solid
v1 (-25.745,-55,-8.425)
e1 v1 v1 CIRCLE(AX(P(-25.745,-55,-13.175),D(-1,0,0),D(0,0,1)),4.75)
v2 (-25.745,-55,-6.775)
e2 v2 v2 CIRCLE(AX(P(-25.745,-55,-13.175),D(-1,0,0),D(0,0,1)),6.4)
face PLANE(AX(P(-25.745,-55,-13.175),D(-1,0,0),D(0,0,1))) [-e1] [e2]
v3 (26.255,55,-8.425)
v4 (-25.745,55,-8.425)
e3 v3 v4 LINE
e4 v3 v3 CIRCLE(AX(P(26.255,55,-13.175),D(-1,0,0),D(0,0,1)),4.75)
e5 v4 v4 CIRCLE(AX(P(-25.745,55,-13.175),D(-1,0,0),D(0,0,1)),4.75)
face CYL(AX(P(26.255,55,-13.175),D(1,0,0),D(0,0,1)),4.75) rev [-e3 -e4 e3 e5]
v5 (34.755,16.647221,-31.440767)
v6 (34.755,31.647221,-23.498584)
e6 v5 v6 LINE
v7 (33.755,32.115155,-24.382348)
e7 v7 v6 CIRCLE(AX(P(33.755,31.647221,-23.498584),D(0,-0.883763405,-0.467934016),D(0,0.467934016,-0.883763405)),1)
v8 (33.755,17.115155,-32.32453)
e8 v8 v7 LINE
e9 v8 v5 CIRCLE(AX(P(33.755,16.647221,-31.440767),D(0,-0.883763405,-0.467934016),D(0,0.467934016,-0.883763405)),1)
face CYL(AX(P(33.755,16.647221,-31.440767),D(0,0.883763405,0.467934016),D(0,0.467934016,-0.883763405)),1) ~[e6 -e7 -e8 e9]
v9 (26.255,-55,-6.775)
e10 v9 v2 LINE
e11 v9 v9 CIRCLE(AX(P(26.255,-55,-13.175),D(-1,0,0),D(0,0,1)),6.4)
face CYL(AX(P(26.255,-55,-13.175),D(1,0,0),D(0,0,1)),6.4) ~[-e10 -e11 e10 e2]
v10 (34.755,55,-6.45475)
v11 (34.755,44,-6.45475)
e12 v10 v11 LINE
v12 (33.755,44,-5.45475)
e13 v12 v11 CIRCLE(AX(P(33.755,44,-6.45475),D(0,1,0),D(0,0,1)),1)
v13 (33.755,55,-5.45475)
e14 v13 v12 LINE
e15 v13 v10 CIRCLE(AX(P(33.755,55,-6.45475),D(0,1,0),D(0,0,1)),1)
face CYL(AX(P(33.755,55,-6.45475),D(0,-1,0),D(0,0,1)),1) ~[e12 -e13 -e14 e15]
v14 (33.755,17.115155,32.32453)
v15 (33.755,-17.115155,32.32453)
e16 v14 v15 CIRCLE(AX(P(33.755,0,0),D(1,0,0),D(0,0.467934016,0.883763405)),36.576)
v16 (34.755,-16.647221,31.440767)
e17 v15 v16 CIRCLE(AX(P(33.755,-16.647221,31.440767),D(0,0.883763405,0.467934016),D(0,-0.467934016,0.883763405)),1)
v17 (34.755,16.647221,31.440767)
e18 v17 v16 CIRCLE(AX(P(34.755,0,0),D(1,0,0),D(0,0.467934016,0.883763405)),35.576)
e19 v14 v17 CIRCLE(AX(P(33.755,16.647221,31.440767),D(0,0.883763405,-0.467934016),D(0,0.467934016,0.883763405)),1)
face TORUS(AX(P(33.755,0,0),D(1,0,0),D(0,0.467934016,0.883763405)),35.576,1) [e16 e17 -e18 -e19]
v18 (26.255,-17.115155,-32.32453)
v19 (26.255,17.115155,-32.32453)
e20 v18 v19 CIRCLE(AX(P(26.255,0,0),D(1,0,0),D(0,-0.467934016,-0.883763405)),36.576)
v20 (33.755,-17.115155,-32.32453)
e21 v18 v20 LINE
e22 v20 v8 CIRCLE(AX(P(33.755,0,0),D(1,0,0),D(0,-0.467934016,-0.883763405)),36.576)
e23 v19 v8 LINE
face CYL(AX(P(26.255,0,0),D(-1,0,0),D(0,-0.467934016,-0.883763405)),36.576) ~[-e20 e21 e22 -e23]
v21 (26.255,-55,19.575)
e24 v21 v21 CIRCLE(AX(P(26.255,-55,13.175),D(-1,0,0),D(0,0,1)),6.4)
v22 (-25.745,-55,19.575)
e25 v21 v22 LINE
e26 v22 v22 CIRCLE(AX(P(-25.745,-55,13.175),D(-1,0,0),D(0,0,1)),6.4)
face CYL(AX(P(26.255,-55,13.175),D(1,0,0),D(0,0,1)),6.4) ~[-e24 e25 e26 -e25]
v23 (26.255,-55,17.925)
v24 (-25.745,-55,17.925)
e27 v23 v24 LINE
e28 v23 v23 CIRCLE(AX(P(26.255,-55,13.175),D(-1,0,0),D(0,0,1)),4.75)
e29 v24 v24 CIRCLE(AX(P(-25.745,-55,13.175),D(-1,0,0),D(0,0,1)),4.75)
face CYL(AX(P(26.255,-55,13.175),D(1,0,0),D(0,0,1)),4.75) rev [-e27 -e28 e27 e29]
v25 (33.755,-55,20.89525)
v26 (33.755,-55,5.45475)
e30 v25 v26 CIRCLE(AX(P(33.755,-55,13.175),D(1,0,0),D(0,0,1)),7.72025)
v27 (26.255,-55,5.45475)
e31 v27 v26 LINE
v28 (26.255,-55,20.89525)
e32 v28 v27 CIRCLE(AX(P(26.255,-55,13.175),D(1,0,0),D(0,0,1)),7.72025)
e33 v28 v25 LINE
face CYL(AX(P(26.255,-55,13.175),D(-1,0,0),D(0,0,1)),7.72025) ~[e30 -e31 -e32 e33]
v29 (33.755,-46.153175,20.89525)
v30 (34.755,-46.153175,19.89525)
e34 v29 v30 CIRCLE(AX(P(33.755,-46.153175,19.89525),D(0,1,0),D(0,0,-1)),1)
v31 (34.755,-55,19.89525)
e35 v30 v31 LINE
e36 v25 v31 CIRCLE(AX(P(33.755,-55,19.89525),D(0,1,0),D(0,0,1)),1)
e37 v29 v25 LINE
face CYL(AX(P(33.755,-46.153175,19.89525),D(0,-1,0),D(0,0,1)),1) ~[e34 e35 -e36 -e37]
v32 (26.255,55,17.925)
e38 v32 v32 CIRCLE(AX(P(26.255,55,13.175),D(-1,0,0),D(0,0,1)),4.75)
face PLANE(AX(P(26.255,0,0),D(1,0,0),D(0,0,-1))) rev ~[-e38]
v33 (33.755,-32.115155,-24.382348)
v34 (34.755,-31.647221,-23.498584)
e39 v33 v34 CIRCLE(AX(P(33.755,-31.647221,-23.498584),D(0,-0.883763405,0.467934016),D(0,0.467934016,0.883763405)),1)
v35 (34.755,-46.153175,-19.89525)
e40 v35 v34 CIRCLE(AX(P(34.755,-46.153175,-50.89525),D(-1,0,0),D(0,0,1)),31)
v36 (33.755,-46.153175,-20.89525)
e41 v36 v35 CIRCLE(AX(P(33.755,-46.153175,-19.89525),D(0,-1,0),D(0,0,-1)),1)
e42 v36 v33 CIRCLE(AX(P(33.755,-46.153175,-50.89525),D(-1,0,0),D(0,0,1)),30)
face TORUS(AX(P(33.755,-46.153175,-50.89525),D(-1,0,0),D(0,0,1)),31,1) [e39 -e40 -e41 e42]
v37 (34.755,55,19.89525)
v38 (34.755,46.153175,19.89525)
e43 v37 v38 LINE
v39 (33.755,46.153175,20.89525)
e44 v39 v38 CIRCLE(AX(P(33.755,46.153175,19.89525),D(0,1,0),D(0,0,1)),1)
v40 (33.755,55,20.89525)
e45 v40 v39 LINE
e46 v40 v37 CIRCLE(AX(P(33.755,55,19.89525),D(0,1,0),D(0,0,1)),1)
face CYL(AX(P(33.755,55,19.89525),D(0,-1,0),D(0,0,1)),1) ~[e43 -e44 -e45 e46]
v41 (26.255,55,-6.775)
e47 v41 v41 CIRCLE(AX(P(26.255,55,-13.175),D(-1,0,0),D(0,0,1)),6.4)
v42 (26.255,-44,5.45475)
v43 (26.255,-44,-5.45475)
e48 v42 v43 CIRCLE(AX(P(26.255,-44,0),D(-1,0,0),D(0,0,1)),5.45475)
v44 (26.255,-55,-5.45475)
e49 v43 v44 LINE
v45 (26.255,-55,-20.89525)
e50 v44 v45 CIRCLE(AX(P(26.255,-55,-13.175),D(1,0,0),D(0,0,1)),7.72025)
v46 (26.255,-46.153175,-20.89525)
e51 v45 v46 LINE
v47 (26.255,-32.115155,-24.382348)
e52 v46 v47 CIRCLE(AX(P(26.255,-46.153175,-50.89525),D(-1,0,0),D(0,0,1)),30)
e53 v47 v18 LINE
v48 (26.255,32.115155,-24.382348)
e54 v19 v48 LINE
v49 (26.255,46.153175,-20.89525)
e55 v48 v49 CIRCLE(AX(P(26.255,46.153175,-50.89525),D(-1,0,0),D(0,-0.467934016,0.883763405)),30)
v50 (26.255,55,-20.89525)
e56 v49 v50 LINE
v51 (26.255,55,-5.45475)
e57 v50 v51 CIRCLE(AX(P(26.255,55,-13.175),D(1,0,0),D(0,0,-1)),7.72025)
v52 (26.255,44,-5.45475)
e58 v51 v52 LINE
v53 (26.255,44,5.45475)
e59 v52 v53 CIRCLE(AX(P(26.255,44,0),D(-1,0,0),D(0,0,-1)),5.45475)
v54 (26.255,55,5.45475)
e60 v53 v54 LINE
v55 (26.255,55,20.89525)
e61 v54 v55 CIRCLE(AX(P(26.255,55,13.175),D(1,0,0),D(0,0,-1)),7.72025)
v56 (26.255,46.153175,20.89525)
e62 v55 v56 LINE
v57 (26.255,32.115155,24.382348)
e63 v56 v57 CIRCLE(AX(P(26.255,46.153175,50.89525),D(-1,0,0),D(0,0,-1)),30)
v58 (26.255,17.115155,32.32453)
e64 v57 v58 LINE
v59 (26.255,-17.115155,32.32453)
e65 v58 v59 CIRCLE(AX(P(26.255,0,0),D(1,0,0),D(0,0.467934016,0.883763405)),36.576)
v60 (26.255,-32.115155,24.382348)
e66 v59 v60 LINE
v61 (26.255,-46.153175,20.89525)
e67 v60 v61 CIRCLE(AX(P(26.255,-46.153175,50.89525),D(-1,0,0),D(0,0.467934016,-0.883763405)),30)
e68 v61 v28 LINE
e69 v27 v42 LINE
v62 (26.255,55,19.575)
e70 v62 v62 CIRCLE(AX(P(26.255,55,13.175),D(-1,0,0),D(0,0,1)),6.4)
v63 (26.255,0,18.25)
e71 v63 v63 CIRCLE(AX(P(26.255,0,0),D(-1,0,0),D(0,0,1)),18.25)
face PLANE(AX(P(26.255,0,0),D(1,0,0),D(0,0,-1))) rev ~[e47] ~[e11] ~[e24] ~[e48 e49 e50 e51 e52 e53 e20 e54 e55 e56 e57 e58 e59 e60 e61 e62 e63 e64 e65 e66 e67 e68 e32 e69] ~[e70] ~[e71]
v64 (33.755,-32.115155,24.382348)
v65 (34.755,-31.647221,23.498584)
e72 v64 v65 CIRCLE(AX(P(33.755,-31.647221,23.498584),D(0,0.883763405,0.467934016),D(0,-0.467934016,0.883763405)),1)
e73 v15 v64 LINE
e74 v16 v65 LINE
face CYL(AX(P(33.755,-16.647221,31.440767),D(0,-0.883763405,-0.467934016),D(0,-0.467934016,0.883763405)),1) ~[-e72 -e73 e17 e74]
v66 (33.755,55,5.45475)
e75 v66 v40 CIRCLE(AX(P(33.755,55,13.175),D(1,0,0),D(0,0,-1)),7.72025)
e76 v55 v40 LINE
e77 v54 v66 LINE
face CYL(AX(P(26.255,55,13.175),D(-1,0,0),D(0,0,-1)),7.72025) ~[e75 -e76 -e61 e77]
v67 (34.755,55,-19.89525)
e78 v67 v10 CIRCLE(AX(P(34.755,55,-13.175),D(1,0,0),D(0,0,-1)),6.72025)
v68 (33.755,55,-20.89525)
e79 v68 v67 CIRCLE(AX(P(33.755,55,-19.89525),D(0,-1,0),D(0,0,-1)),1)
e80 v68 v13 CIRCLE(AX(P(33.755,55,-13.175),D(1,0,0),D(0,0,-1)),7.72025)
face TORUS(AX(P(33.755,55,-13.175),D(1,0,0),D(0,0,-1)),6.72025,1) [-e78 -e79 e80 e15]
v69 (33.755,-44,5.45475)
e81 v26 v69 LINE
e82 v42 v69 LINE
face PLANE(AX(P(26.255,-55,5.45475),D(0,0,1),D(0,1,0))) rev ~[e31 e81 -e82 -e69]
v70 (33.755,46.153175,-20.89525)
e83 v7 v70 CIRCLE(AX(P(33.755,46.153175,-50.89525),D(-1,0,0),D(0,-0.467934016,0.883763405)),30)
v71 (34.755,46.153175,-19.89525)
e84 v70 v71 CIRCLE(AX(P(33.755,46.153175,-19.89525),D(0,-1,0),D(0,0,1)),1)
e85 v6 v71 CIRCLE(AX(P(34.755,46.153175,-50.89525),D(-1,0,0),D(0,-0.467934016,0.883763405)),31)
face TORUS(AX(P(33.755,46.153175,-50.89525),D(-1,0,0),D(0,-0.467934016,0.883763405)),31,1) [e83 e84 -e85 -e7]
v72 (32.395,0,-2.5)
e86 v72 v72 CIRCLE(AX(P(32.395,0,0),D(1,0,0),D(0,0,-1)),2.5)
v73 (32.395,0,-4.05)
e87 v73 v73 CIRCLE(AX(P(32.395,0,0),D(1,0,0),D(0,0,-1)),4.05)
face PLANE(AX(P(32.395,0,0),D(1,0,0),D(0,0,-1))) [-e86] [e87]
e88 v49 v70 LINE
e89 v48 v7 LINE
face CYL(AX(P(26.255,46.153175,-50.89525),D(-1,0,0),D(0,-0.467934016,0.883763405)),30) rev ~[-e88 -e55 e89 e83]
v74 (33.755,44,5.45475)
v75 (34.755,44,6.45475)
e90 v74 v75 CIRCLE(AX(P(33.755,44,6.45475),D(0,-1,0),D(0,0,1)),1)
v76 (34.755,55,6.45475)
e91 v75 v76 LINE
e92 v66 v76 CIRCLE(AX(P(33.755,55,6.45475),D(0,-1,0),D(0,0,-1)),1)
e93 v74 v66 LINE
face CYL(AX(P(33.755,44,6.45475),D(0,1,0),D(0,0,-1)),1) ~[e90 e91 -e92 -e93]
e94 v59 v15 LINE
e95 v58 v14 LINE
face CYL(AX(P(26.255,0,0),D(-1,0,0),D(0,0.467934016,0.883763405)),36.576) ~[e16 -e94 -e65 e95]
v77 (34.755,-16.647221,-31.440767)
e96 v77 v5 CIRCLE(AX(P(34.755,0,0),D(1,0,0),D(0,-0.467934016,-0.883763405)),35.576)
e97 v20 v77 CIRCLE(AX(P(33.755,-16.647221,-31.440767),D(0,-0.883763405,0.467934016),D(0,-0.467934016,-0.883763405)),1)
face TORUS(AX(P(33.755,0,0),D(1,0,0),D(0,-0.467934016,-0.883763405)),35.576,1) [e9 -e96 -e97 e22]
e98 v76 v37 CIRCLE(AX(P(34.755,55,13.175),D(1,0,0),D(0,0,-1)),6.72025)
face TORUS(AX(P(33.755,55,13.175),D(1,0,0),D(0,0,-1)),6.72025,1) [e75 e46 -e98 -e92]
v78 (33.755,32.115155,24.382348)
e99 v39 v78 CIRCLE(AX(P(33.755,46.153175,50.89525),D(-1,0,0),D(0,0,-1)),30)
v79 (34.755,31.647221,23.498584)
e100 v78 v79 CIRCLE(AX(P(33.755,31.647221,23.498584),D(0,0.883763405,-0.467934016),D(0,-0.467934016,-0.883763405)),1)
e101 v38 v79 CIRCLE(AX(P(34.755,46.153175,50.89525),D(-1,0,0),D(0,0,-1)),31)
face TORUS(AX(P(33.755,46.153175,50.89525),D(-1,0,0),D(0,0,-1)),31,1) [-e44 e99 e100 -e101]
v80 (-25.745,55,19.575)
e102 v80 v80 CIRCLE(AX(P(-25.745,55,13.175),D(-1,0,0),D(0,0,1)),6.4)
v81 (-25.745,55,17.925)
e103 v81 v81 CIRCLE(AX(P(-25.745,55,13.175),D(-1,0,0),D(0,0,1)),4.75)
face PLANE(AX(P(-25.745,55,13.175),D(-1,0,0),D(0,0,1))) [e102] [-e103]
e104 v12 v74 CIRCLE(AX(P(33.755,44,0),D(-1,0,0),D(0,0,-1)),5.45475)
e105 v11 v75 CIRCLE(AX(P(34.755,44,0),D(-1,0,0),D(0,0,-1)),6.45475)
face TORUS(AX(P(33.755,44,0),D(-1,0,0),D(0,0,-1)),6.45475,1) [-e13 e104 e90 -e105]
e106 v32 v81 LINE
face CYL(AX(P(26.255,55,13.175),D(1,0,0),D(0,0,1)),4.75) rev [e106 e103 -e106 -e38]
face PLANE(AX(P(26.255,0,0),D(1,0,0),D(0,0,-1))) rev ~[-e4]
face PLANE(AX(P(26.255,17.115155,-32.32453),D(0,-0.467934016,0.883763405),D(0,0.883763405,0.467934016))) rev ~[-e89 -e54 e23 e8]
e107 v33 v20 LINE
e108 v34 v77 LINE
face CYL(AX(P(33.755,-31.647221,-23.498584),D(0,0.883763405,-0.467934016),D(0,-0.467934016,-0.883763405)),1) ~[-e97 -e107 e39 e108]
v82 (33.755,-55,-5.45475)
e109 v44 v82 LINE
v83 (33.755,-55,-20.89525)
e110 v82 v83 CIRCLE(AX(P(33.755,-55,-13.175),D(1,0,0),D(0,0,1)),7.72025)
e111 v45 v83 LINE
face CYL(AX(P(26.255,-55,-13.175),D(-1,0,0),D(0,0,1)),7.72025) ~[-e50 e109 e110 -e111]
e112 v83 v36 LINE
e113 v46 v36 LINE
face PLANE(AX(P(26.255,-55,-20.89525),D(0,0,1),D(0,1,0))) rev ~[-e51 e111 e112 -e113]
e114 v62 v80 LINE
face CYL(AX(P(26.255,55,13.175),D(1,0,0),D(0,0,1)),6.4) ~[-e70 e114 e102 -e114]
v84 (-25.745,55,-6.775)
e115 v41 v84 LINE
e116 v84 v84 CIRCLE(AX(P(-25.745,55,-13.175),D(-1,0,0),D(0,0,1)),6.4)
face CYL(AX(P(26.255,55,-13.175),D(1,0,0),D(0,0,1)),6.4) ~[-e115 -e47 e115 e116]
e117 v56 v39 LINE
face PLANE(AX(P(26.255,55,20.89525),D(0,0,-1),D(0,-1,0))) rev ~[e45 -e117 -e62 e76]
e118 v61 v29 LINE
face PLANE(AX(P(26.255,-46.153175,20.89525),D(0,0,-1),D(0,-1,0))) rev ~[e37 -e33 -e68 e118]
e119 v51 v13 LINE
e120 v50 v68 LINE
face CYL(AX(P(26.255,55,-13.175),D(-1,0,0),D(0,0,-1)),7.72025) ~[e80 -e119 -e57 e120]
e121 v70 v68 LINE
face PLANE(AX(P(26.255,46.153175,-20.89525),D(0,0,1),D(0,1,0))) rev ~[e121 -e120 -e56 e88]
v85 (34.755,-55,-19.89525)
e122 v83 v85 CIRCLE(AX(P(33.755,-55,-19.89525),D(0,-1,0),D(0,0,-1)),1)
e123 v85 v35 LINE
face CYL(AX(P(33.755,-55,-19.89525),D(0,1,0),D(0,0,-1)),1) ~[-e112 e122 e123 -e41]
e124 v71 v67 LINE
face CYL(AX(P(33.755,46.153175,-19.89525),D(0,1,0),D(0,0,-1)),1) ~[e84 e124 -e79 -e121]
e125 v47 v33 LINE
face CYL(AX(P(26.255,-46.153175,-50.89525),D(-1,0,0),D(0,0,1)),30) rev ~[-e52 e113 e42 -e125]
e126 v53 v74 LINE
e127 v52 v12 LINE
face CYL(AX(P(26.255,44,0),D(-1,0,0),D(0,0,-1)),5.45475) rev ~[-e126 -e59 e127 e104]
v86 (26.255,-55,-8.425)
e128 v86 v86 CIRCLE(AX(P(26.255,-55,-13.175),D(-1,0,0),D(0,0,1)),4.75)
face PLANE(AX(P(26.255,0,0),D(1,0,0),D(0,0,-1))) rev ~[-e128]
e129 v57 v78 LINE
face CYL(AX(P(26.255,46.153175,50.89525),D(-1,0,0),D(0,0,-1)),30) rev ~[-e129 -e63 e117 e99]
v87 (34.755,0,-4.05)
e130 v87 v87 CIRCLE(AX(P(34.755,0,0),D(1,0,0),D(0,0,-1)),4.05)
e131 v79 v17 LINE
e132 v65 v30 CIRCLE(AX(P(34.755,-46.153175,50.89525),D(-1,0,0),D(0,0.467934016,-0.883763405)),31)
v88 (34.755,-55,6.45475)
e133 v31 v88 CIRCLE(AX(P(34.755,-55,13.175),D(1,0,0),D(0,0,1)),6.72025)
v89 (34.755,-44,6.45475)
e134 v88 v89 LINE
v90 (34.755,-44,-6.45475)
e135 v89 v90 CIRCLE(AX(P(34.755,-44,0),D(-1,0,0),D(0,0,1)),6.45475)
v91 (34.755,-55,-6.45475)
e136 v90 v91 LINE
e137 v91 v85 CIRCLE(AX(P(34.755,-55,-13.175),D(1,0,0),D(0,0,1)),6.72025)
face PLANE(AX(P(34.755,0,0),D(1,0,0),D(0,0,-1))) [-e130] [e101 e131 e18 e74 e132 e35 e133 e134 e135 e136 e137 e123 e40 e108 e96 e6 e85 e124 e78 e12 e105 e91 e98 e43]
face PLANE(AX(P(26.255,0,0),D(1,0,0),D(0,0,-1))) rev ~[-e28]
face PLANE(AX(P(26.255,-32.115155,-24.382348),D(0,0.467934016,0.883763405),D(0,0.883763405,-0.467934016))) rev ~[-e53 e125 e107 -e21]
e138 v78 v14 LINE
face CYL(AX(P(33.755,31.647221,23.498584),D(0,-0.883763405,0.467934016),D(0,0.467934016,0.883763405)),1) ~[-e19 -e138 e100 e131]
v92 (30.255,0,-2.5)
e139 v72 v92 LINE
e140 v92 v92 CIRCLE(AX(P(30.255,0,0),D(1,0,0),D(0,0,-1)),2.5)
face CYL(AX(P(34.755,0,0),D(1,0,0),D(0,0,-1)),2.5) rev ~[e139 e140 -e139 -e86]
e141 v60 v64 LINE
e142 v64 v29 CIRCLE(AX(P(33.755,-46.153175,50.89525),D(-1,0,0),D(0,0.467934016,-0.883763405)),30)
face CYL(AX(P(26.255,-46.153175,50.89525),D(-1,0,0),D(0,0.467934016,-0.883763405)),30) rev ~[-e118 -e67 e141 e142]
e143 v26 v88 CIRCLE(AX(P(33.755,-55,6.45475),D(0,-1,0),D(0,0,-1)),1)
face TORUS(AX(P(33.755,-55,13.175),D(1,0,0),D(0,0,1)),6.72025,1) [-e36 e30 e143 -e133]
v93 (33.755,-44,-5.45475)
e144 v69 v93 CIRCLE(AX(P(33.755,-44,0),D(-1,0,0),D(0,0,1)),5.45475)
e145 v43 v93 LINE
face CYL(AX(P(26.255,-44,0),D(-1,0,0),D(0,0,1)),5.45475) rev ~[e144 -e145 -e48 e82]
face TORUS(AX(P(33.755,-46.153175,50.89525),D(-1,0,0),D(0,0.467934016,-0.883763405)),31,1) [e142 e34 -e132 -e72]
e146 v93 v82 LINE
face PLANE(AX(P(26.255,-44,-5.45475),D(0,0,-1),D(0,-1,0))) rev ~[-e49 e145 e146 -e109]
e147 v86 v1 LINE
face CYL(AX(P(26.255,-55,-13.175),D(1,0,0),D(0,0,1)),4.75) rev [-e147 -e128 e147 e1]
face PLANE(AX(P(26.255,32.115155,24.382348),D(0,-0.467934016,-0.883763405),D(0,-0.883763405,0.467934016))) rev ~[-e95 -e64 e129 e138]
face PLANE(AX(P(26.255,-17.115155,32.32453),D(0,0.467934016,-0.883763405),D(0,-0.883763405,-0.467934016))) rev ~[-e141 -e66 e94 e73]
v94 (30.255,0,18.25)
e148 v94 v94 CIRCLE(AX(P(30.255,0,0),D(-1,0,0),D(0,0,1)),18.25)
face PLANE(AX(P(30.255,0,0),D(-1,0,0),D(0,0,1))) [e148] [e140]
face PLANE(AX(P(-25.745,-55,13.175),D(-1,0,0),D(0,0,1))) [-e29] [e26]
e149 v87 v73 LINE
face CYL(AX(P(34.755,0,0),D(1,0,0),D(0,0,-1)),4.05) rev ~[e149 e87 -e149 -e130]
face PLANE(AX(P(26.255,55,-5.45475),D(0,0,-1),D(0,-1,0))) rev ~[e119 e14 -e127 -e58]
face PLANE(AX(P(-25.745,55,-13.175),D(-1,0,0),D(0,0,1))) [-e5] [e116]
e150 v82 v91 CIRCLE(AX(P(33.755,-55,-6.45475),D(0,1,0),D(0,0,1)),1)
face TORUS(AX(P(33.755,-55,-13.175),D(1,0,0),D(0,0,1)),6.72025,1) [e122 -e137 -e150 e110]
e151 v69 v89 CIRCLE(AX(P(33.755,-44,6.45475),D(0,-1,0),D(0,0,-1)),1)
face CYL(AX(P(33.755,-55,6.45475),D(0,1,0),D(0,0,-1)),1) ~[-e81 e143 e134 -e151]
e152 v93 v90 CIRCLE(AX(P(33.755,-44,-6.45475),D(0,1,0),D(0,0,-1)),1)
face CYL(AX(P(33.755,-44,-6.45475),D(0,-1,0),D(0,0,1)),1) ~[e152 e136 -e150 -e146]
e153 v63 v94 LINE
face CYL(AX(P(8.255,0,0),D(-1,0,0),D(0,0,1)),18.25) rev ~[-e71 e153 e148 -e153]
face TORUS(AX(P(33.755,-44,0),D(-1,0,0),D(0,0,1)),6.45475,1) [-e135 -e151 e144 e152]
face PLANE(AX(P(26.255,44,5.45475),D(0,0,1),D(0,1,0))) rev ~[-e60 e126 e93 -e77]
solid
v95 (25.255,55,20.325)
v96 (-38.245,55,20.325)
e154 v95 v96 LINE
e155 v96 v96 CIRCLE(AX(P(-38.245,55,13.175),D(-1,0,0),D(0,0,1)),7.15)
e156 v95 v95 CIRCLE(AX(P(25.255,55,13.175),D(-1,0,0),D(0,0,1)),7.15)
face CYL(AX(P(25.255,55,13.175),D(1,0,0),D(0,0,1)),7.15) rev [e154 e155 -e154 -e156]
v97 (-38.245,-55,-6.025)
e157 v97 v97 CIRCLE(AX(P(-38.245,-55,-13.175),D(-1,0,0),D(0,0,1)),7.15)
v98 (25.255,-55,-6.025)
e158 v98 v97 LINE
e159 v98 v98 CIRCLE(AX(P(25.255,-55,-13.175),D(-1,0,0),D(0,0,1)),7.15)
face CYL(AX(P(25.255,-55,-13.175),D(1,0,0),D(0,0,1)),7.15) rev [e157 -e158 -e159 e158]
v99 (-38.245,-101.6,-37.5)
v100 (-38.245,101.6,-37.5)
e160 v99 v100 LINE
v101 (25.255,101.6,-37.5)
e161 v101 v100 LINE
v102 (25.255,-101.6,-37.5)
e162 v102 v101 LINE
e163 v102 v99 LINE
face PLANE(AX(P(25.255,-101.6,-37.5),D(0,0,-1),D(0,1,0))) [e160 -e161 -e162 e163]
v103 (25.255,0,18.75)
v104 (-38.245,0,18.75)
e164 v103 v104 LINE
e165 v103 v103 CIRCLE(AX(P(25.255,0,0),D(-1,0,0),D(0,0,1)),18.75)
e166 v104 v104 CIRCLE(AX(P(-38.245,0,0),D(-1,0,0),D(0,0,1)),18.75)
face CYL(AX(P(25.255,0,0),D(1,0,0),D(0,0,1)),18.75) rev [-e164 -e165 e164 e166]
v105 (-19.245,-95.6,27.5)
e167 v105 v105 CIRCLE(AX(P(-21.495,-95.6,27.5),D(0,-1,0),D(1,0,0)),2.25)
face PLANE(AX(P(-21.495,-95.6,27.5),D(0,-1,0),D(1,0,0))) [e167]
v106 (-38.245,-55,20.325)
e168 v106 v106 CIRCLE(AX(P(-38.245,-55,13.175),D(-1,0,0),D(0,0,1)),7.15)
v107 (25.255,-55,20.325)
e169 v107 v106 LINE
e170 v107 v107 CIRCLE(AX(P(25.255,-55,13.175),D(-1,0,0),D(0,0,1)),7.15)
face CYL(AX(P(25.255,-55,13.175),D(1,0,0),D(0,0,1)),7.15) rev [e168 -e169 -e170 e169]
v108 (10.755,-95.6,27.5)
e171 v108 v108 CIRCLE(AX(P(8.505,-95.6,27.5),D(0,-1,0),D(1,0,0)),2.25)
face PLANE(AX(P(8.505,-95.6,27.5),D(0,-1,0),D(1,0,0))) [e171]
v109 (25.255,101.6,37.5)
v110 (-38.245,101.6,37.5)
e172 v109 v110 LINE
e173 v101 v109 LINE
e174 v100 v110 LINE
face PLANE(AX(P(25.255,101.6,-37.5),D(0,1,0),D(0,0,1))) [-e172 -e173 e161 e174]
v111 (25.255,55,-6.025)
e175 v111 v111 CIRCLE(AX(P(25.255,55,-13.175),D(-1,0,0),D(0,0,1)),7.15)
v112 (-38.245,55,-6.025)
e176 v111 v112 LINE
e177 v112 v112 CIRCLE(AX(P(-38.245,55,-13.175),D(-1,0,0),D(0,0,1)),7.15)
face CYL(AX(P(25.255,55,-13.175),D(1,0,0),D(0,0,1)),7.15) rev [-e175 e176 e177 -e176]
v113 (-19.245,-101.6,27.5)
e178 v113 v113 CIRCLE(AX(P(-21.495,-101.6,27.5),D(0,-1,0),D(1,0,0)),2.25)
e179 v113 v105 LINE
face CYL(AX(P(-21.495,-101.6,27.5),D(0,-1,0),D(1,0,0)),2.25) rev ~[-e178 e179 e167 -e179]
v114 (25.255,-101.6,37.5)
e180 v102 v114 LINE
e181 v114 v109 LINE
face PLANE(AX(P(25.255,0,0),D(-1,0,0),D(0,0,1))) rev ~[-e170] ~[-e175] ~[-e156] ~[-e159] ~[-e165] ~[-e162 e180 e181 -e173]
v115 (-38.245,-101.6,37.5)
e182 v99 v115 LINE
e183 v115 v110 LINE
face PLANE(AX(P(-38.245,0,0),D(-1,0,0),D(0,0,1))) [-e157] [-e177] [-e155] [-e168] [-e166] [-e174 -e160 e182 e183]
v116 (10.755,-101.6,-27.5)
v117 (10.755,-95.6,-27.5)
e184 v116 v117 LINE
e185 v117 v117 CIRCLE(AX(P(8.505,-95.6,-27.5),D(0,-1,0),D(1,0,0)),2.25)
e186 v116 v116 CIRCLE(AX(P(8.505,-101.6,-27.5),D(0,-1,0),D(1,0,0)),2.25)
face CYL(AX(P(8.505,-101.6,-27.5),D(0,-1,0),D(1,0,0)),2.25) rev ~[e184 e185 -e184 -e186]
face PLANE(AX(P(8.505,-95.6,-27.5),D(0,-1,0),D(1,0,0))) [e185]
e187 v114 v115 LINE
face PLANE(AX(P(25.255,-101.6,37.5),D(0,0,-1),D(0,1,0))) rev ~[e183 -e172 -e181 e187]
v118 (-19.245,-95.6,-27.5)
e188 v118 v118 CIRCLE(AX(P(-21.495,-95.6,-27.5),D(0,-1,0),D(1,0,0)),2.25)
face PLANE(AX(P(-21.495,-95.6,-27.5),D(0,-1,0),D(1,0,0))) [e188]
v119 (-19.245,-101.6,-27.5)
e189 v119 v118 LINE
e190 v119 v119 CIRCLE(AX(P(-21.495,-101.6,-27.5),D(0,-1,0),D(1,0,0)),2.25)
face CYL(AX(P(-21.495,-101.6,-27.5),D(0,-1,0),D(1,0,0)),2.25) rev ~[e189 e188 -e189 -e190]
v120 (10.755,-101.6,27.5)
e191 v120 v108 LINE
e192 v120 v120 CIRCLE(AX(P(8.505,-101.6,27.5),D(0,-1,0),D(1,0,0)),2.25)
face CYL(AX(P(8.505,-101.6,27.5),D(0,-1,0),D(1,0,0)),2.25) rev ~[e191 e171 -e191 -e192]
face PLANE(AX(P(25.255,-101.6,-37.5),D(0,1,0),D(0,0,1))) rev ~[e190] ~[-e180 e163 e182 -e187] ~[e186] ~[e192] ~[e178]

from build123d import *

# Parameters (mm, degrees)
SKETCH1_W           = 18
SKETCH1_H           = 18.25
SKETCH2_R           = 3.7145
CUT_EXTRUDE1_DEPTH  = 8.5725
SKETCH3_R           = 18.25
BOSS_EXTRUDE1_DEPTH = 8.5
SKETCH4_R           = 6.4
SKETCH4_R_2         = 4.75
BOSS_EXTRUDE2_DEPTH = 52
FILLET1_R           = 1
SKETCH6_R           = 18.25
CUT_EXTRUDE2_DEPTH  = 22
SKETCH10_W          = 75
SKETCH10_H          = 203.2
SKETCH10_R          = 7.15
SKETCH10_R_2        = 18.75
BOSS_EXTRUDE3_DEPTH = 63.5
SKETCH11_R          = 2.25
CUT_EXTRUDE5_DEPTH  = 6
SKETCH12_R          = 2.5
SKETCH12_R_2        = 4.05
CUT_EXTRUDE6_DEPTH  = 2.36
SKETCH12_3_R        = 2.5
CUT_EXTRUDE7_DEPTH  = 4.5


with BuildPart() as part:
    # Sketch1 → Revolve1 (revolve)
    with BuildSketch(Plane.XY):
        with Locations((17.255, 9.125)):
            Rectangle(SKETCH1_W, SKETCH1_H)
    revolve(axis=Axis((8.255, 0, 0), (1, 0, 0)))

    # Sketch2 → Cut-Extrude1 (cut)
    with BuildSketch(Plane.ZY.offset(-8.255)):
        Circle(SKETCH2_R)
    extrude(amount=-CUT_EXTRUDE1_DEPTH, mode=Mode.SUBTRACT)


with BuildPart() as body_2:
    # Sketch3 → Boss-Extrude1 (new body)
    with BuildSketch(Plane(origin=(26.255, 0, 0), x_dir=(0, 0, -1), z_dir=(1, 0, 0))):
        with BuildLine():
            Line((-24.382347836, 32.115154563), (-32.324530318, 17.115154563))
            ThreePointArc((-32.324530318, 17.115154563), (-36.576, 0), (-32.324530318, -17.115154563))
            Line((-32.324530318, -17.115154563), (-24.382347836, -32.115154563))
            ThreePointArc((-24.382347836, -32.115154563), (-21.780072988, -38.920854003), (-20.89525, -46.153175037))
            Line((-20.89525, -46.153175037), (-20.89525, -55))
            ThreePointArc((-20.89525, -55), (-13.175, -62.72025), (-5.45475, -55))
            Line((-5.45475, -55), (-5.45475, -44))
            ThreePointArc((-5.45475, -44), (0, -38.54525), (5.45475, -44))
            Line((5.45475, -44), (5.45475, -55))
            ThreePointArc((5.45475, -55), (13.175, -62.72025), (20.89525, -55))
            Line((20.89525, -55), (20.89525, -46.153175037))
            ThreePointArc((20.89525, -46.153175037), (21.780072988, -38.920854003), (24.382347836, -32.115154563))
            Line((24.382347836, -32.115154563), (32.324530318, -17.115154563))
            ThreePointArc((32.324530318, -17.115154563), (36.576, 0), (32.324530318, 17.115154563))
            Line((32.324530318, 17.115154563), (24.382347836, 32.115154563))
            ThreePointArc((24.382347836, 32.115154563), (21.780072988, 38.920854003), (20.89525, 46.153175037))
            Line((20.89525, 46.153175037), (20.89525, 55))
            ThreePointArc((20.89525, 55), (13.175, 62.72025), (5.45475, 55))
            Line((5.45475, 55), (5.45475, 44))
            ThreePointArc((5.45475, 44), (0, 38.54525), (-5.45475, 44))
            Line((-5.45475, 44), (-5.45475, 55))
            ThreePointArc((-5.45475, 55), (-13.175, 62.72025), (-20.89525, 55))
            Line((-20.89525, 55), (-20.89525, 46.153175037))
            ThreePointArc((-20.89525, 46.153175037), (-21.780072988, 38.920854003), (-24.382347836, 32.115154563))
        make_face()
        Circle(SKETCH3_R, mode=Mode.SUBTRACT)
        Circle(SKETCH3_R)
    extrude(amount=BOSS_EXTRUDE1_DEPTH)

    # Sketch4 → Boss-Extrude2 (add)
    with BuildSketch(Plane.ZY.offset(-26.255)):
        with Locations((-13.175, 55)):
            Circle(SKETCH4_R)
        with Locations((-13.175, 55)):
            Circle(SKETCH4_R_2, mode=Mode.SUBTRACT)
        with Locations((13.175, 55)):
            Circle(SKETCH4_R)
        with Locations((13.175, 55)):
            Circle(SKETCH4_R_2, mode=Mode.SUBTRACT)
        with Locations((13.175, -55)):
            Circle(SKETCH4_R)
        with Locations((13.175, -55)):
            Circle(SKETCH4_R_2, mode=Mode.SUBTRACT)
        with Locations((-13.175, -55)):
            Circle(SKETCH4_R)
        with Locations((-13.175, -55)):
            Circle(SKETCH4_R_2, mode=Mode.SUBTRACT)
    extrude(amount=BOSS_EXTRUDE2_DEPTH)

    # Fillet1
    fillet1_edges = [body_2.edges().sort_by_distance(p)[0] for p in [
        (34.755, 0, 36.576),
        (34.755, 38.54525, 0),
        (34.755, 49.5, 5.45475),
        (34.755, 62.72025, 13.175),
        (34.755, 50.576587519, 20.89525),
        (34.755, 38.920854003, 21.780072988),
        (34.755, -24.615154563, 28.353439077),
        (34.755, -38.920854003, 21.780072988),
        (34.755, -50.576587519, 20.89525),
        (34.755, -62.72025, 13.175),
        (34.755, -49.5, 5.45475),
        (34.755, -38.54525, 0),
        (34.755, -49.5, -5.45475),
        (34.755, 24.615154563, 28.353439077),
        (34.755, -62.72025, -13.175),
        (34.755, -50.576587519, -20.89525),
        (34.755, -38.920854003, -21.780072988),
        (34.755, -24.615154563, -28.353439077),
        (34.755, 0, -36.576),
        (34.755, 24.615154563, -28.353439077),
        (34.755, 38.920854003, -21.780072988),
        (34.755, 50.576587519, -20.89525),
        (34.755, 62.72025, -13.175),
        (34.755, 49.5, -5.45475),
    ]]
    fillet(fillet1_edges, radius=FILLET1_R)


with BuildPart() as cut_extrude2_tool:
    # Sketch6 → Cut-Extrude2 (new body)
    with BuildSketch(Plane.ZY.offset(-8.255)):
        Circle(SKETCH6_R)
    extrude(amount=-CUT_EXTRUDE2_DEPTH)


with BuildPart() as part_1:
    add(part.part)

    # Cut-Extrude2: cut by cut_extrude2_tool
    add(cut_extrude2_tool.part, mode=Mode.SUBTRACT)


with BuildPart() as body_2_1:
    add(body_2.part)

    # Cut-Extrude2: cut by cut_extrude2_tool
    add(cut_extrude2_tool.part, mode=Mode.SUBTRACT)

    # Sketch12 → Cut-Extrude6 (cut)
    with BuildSketch(Plane(origin=(34.755, 0, 0), x_dir=(0, 0, -1), z_dir=(1, 0, 0))):
        Circle(SKETCH12_R)
        Circle(SKETCH12_R_2)
        Circle(SKETCH12_R, mode=Mode.SUBTRACT)
    extrude(amount=-CUT_EXTRUDE6_DEPTH, mode=Mode.SUBTRACT)

    # Sketch12<3> → Cut-Extrude7 (cut)
    with BuildSketch(Plane(origin=(34.755, 0, 0), x_dir=(0, 0, -1), z_dir=(1, 0, 0))):
        Circle(SKETCH12_3_R)
    extrude(amount=-CUT_EXTRUDE7_DEPTH, mode=Mode.SUBTRACT)


with BuildPart() as body_2_2:
    # Sketch10 → Boss-Extrude3 (new body)
    with BuildSketch(Plane.ZY.offset(-25.255)):
        Rectangle(SKETCH10_W, SKETCH10_H)
        with Locations((-13.175, 55)):
            Circle(SKETCH10_R, mode=Mode.SUBTRACT)
        with Locations((13.175, 55)):
            Circle(SKETCH10_R, mode=Mode.SUBTRACT)
        with Locations((-13.175, -55)):
            Circle(SKETCH10_R, mode=Mode.SUBTRACT)
        with Locations((13.175, -55)):
            Circle(SKETCH10_R, mode=Mode.SUBTRACT)
        Circle(SKETCH10_R_2, mode=Mode.SUBTRACT)
    extrude(amount=BOSS_EXTRUDE3_DEPTH)

    # Sketch11 → Cut-Extrude5 (cut)
    with BuildSketch(Plane.XZ.offset(101.6)):
        with Locations((-21.495, 27.5)):
            Circle(SKETCH11_R)
        with Locations((8.505, 27.5)):
            Circle(SKETCH11_R)
        with Locations((-21.495, -27.5)):
            Circle(SKETCH11_R)
        with Locations((8.505, -27.5)):
            Circle(SKETCH11_R)
    extrude(amount=-CUT_EXTRUDE5_DEPTH, mode=Mode.SUBTRACT)


solid = Compound([body_2_1.part, body_2_2.part])
